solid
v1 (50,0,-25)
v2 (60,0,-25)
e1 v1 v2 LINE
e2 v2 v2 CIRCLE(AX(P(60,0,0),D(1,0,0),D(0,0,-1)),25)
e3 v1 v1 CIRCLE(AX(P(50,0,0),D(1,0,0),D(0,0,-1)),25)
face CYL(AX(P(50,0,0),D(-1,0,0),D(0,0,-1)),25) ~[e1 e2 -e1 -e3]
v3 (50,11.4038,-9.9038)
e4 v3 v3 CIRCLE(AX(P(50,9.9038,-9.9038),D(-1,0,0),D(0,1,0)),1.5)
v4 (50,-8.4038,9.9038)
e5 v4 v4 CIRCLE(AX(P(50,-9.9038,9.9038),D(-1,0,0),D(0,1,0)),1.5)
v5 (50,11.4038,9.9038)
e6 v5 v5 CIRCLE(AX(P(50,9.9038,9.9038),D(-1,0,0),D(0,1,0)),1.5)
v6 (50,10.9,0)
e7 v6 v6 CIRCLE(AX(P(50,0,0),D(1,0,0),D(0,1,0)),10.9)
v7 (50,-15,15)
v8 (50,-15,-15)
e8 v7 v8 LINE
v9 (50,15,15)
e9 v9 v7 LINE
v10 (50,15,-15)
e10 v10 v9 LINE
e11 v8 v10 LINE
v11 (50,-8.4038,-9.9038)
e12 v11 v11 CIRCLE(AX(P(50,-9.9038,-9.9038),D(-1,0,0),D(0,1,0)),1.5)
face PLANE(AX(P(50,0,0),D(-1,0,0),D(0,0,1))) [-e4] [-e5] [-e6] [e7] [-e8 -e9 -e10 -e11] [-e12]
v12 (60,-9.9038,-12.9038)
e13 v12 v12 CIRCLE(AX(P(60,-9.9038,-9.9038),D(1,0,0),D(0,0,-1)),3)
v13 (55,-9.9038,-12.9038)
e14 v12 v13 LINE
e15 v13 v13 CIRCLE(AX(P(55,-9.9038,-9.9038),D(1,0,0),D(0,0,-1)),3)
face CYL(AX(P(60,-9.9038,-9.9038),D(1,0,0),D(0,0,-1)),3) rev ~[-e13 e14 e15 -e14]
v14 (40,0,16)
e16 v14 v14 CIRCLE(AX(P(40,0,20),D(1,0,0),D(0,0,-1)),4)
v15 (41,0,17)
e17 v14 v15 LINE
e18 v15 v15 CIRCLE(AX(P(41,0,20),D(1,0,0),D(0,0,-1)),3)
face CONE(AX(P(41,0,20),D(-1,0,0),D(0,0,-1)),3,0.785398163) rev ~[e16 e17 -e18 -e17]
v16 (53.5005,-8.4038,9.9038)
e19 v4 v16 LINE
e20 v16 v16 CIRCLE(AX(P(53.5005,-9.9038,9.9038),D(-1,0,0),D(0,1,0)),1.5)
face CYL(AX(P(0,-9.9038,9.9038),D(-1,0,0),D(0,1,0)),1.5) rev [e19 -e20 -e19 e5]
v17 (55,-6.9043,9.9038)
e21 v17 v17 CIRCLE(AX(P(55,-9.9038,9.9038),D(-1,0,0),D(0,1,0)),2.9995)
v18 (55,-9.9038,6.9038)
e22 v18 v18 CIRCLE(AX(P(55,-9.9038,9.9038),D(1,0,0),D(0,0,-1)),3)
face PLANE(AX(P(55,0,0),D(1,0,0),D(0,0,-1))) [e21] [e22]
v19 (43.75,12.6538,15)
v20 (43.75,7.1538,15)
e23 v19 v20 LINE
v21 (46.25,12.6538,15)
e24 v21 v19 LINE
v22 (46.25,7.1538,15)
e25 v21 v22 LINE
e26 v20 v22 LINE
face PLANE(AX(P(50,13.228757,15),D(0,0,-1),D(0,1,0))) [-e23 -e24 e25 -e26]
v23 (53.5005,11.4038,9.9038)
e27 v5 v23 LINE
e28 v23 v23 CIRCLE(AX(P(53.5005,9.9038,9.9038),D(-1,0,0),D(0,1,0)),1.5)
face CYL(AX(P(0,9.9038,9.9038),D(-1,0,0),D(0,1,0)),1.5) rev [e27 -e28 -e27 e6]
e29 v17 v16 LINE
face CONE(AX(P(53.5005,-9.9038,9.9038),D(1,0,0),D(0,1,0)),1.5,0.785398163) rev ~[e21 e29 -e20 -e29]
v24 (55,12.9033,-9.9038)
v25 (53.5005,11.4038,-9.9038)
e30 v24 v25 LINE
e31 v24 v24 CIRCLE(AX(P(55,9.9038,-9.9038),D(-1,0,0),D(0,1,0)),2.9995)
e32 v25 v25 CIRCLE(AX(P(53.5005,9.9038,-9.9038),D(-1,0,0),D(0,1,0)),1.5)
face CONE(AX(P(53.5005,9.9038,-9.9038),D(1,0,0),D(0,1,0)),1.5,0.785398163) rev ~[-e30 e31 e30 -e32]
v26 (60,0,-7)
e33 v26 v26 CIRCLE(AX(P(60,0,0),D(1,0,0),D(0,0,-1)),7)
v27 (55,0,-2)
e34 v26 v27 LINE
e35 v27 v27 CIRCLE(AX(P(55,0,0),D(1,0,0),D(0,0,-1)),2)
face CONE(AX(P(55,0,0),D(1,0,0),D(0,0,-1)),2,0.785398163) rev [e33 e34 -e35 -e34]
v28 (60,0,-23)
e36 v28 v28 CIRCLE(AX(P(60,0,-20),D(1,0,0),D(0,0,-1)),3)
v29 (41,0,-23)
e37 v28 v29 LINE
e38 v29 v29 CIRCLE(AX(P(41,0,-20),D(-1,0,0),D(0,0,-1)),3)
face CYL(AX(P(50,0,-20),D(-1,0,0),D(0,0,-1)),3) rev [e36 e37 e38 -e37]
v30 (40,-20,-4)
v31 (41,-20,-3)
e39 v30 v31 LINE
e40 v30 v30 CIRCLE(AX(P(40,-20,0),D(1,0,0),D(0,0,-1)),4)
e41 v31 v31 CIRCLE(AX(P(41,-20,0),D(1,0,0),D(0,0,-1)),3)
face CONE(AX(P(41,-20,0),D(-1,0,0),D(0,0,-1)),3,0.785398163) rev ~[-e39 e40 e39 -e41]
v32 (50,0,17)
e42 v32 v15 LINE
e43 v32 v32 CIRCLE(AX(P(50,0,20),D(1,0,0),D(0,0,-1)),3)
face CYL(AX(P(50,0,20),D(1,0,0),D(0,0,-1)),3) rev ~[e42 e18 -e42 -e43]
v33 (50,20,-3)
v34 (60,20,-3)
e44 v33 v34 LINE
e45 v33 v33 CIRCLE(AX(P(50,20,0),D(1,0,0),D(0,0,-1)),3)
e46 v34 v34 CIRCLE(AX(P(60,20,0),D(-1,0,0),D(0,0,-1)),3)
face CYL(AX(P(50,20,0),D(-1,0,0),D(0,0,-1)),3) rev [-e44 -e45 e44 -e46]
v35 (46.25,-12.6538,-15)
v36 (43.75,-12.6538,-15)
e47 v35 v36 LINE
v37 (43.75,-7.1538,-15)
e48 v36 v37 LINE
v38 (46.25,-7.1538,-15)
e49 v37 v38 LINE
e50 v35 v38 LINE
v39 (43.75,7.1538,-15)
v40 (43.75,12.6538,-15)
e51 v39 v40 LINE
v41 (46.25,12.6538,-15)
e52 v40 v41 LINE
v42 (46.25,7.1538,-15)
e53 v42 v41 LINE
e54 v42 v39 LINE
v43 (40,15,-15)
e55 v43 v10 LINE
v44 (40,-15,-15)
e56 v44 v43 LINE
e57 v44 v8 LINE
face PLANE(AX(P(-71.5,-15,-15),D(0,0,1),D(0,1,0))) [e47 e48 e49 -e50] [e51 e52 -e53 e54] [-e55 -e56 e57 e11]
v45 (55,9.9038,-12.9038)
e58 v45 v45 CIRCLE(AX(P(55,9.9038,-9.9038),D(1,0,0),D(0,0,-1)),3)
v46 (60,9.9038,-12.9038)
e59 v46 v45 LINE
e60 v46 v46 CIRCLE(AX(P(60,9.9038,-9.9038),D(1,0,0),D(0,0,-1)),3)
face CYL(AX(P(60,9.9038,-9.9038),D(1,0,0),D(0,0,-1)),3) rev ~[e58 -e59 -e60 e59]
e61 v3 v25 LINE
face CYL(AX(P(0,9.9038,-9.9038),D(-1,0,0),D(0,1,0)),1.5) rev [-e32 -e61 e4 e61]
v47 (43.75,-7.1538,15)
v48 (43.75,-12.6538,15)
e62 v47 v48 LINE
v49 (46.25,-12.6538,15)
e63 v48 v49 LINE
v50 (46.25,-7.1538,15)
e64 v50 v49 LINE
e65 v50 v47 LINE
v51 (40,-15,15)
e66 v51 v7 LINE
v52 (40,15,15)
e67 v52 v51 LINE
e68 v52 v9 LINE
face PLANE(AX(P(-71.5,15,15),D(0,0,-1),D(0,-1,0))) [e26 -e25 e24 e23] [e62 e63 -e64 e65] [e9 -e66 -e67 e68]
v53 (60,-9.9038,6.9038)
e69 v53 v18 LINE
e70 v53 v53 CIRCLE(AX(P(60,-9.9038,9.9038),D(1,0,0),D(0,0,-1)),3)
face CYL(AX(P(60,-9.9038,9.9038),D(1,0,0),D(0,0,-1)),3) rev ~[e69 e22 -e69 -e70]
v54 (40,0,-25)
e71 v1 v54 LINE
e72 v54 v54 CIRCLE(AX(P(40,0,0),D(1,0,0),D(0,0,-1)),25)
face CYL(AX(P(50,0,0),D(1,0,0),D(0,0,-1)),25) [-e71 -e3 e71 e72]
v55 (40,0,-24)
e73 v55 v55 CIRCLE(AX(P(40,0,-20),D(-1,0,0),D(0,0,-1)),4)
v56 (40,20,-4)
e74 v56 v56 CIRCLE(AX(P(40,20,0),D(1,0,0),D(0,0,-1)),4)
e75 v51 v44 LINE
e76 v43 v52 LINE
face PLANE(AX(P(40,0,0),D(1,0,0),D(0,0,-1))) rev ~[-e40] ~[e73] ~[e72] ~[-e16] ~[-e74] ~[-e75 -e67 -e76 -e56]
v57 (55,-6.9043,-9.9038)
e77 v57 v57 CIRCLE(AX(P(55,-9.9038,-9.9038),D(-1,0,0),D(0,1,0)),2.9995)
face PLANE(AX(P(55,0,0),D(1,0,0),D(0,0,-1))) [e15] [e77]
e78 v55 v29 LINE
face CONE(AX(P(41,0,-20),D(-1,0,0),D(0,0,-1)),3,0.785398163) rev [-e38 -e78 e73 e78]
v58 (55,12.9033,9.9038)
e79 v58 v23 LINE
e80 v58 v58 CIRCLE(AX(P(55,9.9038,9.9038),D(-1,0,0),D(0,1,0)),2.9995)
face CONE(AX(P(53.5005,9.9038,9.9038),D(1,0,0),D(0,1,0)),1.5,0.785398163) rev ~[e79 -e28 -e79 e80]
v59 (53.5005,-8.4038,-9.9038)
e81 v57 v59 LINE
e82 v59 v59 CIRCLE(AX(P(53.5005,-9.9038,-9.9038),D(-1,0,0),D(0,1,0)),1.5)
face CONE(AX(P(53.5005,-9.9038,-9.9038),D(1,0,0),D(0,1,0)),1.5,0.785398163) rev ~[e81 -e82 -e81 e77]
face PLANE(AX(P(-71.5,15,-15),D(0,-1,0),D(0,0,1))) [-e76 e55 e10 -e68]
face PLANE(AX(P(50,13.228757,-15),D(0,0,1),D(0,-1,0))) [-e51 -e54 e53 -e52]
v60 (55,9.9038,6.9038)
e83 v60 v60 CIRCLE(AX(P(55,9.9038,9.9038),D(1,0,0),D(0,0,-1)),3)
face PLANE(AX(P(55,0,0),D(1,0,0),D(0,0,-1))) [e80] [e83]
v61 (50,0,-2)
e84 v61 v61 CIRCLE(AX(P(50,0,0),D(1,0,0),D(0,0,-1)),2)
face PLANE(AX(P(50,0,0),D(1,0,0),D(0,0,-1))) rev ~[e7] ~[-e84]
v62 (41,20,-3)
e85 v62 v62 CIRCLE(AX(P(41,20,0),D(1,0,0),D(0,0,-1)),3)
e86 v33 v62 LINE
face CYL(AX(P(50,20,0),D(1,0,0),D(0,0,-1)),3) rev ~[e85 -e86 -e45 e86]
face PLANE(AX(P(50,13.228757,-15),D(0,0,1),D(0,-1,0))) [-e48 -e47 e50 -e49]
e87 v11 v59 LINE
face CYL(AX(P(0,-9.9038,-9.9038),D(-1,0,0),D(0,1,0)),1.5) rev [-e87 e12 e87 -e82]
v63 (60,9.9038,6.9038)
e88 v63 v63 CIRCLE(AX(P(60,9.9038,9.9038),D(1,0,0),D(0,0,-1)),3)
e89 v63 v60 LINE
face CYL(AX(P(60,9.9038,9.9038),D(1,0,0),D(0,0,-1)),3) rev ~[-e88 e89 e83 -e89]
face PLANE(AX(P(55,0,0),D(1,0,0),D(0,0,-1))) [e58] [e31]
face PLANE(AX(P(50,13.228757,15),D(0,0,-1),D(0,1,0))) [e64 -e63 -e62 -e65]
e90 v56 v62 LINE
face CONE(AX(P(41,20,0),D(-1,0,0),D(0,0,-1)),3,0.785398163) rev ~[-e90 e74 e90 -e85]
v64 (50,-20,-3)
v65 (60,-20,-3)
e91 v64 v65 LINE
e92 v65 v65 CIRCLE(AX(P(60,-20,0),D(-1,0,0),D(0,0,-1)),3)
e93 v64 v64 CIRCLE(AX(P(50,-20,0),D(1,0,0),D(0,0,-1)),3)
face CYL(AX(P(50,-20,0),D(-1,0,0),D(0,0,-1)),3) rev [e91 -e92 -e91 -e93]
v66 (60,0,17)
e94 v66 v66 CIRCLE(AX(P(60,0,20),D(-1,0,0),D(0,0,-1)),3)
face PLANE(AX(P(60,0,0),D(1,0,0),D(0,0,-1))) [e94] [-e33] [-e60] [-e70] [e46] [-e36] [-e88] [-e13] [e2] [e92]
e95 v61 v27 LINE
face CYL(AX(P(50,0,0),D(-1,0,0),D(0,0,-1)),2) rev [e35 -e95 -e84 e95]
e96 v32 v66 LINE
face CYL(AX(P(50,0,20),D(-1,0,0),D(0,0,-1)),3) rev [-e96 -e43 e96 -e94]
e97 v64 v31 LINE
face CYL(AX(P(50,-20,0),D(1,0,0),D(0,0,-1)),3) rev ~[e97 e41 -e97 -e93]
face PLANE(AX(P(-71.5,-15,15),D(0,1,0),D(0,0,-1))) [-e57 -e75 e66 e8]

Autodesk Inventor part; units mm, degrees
ref_plane "YZ Plane" through (0, 0, 0) normal (1, 0, 0) x (0, 1, 0)
sketch "Boceto2" plane through (0, 0, 0) normal (0, 0, 1) x (1, 0, 0)
  line L0 (0, 0) -> (-71.5, 0)
  line L1 (0, 10.9) -> (0, 0)
  line L2 (-68.2708, 0) -> (0, 0)
  line L3 (0, 10.9) -> (-68.1013, 9.2541)
  line L4 (-71.5, 0) -> (-56.9274, 0) construction
  line L5 (-71.5, 0) -> (-71.5, 8.5)
  line L6 (-71.5, 0) -> (-68, 0)
  arc A0 (-68, 9.2565) -> (-71.5, 8.5) centre (-67.8264, -0.0207) ccw
  line L7 (-68, 9.2565) -> (0, 10.9)
  line L8 (0, 0) -> (26.5, 0)
  line L9 (26.5, 0) -> (26.5, 7)
  line L10 (0, 0) -> (0, 9.9)
  line L11 (0, 0) -> (21, 0)
  line L12 (21, 0) -> (21, 9.5)
  line L13 (21, 9.5) -> (0, 9.9)
  line L14 (26.5, 0) -> (26.5, 8.5)
  arc A1 (26.5, 8.5) -> (21, 9.5) centre (21.692, -2.3188) ccw
  line L15 (26.5, 0) -> (29, 0)
  line L16 (29, 0) -> (29, 7)
  line L17 (29, 7) -> (26.5, 7)
  line L18 (29, 0) -> (29, 6.75)
  line L19 (29, 6.75) -> (31, 6.75)
  line L20 (31.8816, 0) -> (29, 0)
  line L21 (29, 0) -> (29, 6.75)
  line L22 (29, 6.75) -> (31, 6.75)
  line L23 (29, 0) -> (31, 0)
  ellipse E0 centre (31, 0) end of major axis (31, 6.75) minor radius 0.8816 (31.8816, 0) -> (31, 6.75) ccw
  line L24 (-71.5, 0) -> (-71.5, 7.25)
  line L25 (-71.5, 0) -> (-67, 0)
  line L26 (-71.5, 0) -> (-76, 0)
  line L27 (-76, 0) -> (-76, 6.75)
  line L28 (-76, 6.75) -> (-71.5, 7.25)
  line L29 (-76, 0) -> (-77, 0)
  line L30 (-77, 0) -> (-77, 6.5)
  line L31 (-77, 6.5) -> (-76, 6.75)
  line L32 (-77, 0) -> (-80.5, 0)
  line L33 (-80.5, 0) -> (-80.5, 4.15)
  line L34 (-80.5, 4.15) -> (-77, 6.5)
  line L35 (-80.5, 0) -> (-87.5, 0)
  line L36 (-87.5, 0) -> (-87.5, 4.15)
  line L37 (-87.5, 4.15) -> (-80.5, 4.15)
  line L38 (-80.5, 4.15) -> (-80.5, 0)
  line L39 (-87.5, 0) -> (-95, 0)
  line L40 (-95, 0) -> (-95, 0)
  line L41 (-92.25, 2.75) -> (-87.5, 2.75)
  line L42 (-87.5, 2.75) -> (-87.5, 0)
  arc A2 (-92.25, 2.75) -> (-95, 0) centre (-92.25, 0) ccw
  line L43 (-71.5, 8.5) -> (-71.5, 12.7399)
  arc A3 (-68.0867, 13.2556) -> (-71.5, 12.7399) centre (-67.8264, -0.0207) ccw
  line L44 (-68.0867, 13.2556) -> (-0.0966, 14.8988)
  line L45 (34.8792, 10.8985) -> (49.8792, 10.8985)
  line L46 (-71.5, 0) -> (-61.5, 0)
  line L47 (-61.5, 0) -> (-61.5, 13.4148)
  line L48 (-61.5, 14.4151) -> (-61.5, 20)
  line L49 (-61.5, 13.4148) -> (-61.5, 14.4151)
  line L50 (-61.5, 13.4148) -> (-58, 13.4148) construction
  circle A4 centre (-61.5, 13.4148) radius 1.5
  line L51 (-61.5, 13.4148) -> (-58.5, 13.4148)
  line L52 (-58.5, 13.4148) -> (-60, 10.8167)
  line L53 (-60, 10.8167) -> (-63, 10.8167)
  line L54 (-63, 10.8167) -> (-64.5, 13.4148)
  line L55 (-64.5, 13.4148) -> (-63, 16.0129)
  line L56 (-63, 16.0129) -> (-60, 16.0129)
  line L57 (-60, 16.0129) -> (-58.5, 13.4148)
  line L58 (-64.7321, 19.0129) -> (-67.9641, 13.4148)
  line L59 (-67.9641, 13.4148) -> (-64.7321, 7.8167)
  line L60 (-64.7321, 7.8167) -> (-58.2679, 7.8167)
  line L61 (-58.2679, 7.8167) -> (-55.0359, 13.4148)
  line L62 (-55.0359, 13.4148) -> (-58.2679, 19.0129)
  line L63 (-58.2679, 19.0129) -> (-64.7321, 19.0129)
  line L64 (-67.9641, 13.4148) -> (-55.0359, 13.4148)
  line L65 (49.8792, 0) -> (39.8792, 0)
  line L66 (-71.5, 0) -> (-10.8105, 0)
  line L67 (-10.8105, 0) -> (-10.8105, 14.6399)
  line L68 (-10.8105, 14.6399) -> (-10.8105, 27)
  circle A5 centre (-10.8105, 14.6399) radius 1.5
  line L69 (-10.8105, 14.6399) -> (-7.8105, 14.6399)
  line L70 (-10.8105, 14.6399) -> (-7.8105, 14.6399) construction
  line L71 (-7.8105, 14.6399) -> (-9.3105, 12.0418)
  line L72 (-9.3105, 12.0418) -> (-12.3105, 12.0418)
  line L73 (-12.3105, 12.0418) -> (-13.8105, 14.6399)
  line L74 (-13.8105, 14.6399) -> (-12.3105, 17.238)
  line L75 (-12.3105, 17.238) -> (-9.3105, 17.238)
  line L76 (-9.3105, 17.238) -> (-7.8105, 14.6399)
  line L77 (-14.0426, 20.238) -> (-17.2746, 14.6399)
  line L78 (-17.2746, 14.6399) -> (-14.0426, 9.0418)
  line L79 (-14.0426, 9.0418) -> (-7.5784, 9.0418)
  line L80 (-7.5784, 9.0418) -> (-4.3464, 14.6399)
  line L81 (-4.3464, 14.6399) -> (-7.5784, 20.238)
  line L82 (-7.5784, 20.238) -> (-14.0426, 20.238)
  line L83 (0, 10.9) -> (50, 10.9)
  line L84 (50, 10.9) -> (50, 14.9)
  line L85 (50, 14.9) -> (0, 14.9)
  line L86 (0, 14.9) -> (0, 10.9)
  line L87 (-0.0966, 14.8988) -> (0, 14.8988)
  line L88 (0, 0) -> (50, 0)
  line L89 (50, 0) -> (50, 10.9)
  line L90 (50, 10.9) -> (0, 10.9)
  line L91 (0, 10.9) -> (0, 0)
  point P0 (67.7333, -10.8479)
  point P1 (103.6012, -10.8479)
  point P2 (35.8517, 0)
  point P3 (7, 16)
  point P4 (-95, 2.75)
  dimension "d21" = 71.5
  dimension "d22" = 8.5
  dimension "d23" = 3.5
  dimension "d24" = 26.5
  dimension "d25" = 7
  dimension "d26" = 9.9
  dimension "d27" = 21
  dimension "d28" = 9.5
  dimension "d29" = 8.5
  dimension "d30" = 2.5
  dimension "d31" = 6.75
  dimension "d32" = 2
  dimension "d33" = 2
  dimension "d34" = 7.25
  dimension "d35" = 4.5
  dimension "d36" = 4.5
  dimension "d37" = 6.75
  dimension "d38" = 1
  dimension "d39" = 6.5
  dimension "d40" = 3.5
  dimension "d41" = 4.15
  dimension "d42" = 7
  dimension "d43" = 7.5
  dimension "d44" = 2.75
  dimension "d45" = 2.75
  dimension "d51" = 4
  dimension "d52" = 10
  dimension "d53" = 20
  dimension "d54" = 90
  dimension "d55" = 3
  dimension "d56" = 3
  dimension "d57" = 3
  dimension "d58" = 10
  dimension "d63" = 60.6895
  dimension "d64" = 3
  dimension "d65" = 3
  dimension "d66" = 0
  dimension "d67" = 3
  dimension "d89" = 50
  dimension "d90" = 4
  dimension "d91" = 121.5
  dimension "d92" = 50
sketch "Boceto4" plane through (0, 0, 0) normal (1, 0, 0) x (0, 1, 0)
  line L0 (0, 0) -> (0, 20)
  circle A0 centre (20, 0) radius 3
  circle A1 centre (0, 20) radius 3
  circle A2 centre (-20, 0) radius 3
  circle A3 centre (0, 0) radius 12.5
  circle A4 centre (0, 0) radius 20
  circle A5 centre (0, 0) radius 20
  circle A6 centre (0, 0) radius 20
  circle A7 centre (0, 0) radius 25
  circle A8 centre (0, 0) radius 20
  circle A9 centre (0, -20) radius 3
  line L1 (0, -20) -> (3.5355, -16.4645) construction
  circle A10 centre (9.9038, -9.9038) radius 1.5
  line L2 (0, 0) -> (6.2936, 0)
  line L3 (15, 15) -> (-15, 15)
  line L4 (-15, 15) -> (-15, -15)
  line L5 (-15, -15) -> (15, -15)
  line L6 (15, -15) -> (15, 15)
  line L7 (15, 15) -> (-15, -15) construction
  line L8 (8.3161, -12.6538) -> (6.7284, -9.9038)
  line L9 (6.7284, -9.9038) -> (8.3161, -7.1538)
  line L10 (8.3161, -7.1538) -> (11.4915, -7.1538)
  line L11 (11.4915, -7.1538) -> (13.0792, -9.9038)
  line L12 (13.0792, -9.9038) -> (11.4915, -12.6538)
  line L13 (11.4915, -12.6538) -> (8.3161, -12.6538)
  circle A11 centre (9.9038, 9.9038) radius 1.5
  line L14 (8.3161, 12.6538) -> (6.7284, 9.9038)
  line L15 (6.7284, 9.9038) -> (8.3161, 7.1538)
  line L16 (8.3161, 7.1538) -> (11.4915, 7.1538)
  line L17 (11.4915, 7.1538) -> (13.0792, 9.9038)
  line L18 (13.0792, 9.9038) -> (11.4915, 12.6538)
  line L19 (11.4915, 12.6538) -> (8.3161, 12.6538)
  circle A12 centre (-9.9038, -9.9038) radius 1.5
  line L20 (-8.3161, -12.6538) -> (-6.7284, -9.9038)
  line L21 (-6.7284, -9.9038) -> (-8.3161, -7.1538)
  line L22 (-8.3161, -7.1538) -> (-11.4915, -7.1538)
  line L23 (-11.4915, -7.1538) -> (-13.0792, -9.9038)
  line L24 (-13.0792, -9.9038) -> (-11.4915, -12.6538)
  line L25 (-11.4915, -12.6538) -> (-8.3161, -12.6538)
  line L26 (-13.0792, 9.9038) -> (-11.4915, 12.6538)
  line L27 (-8.3161, 7.1538) -> (-11.4915, 7.1538)
  line L28 (-6.7284, 9.9038) -> (-8.3161, 7.1538)
  line L29 (-11.4915, 7.1538) -> (-13.0792, 9.9038)
  circle A13 centre (-9.9038, 9.9038) radius 1.5
  line L30 (-8.3161, 12.6538) -> (-6.7284, 9.9038)
  line L31 (-11.4915, 12.6538) -> (-8.3161, 12.6538)
  circle A14 centre (9.9038, 9.9038) radius 3
  circle A15 centre (9.9038, -9.9038) radius 3
  circle A16 centre (-9.9038, 9.9038) radius 3
  circle A17 centre (-9.9038, -9.9038) radius 3
  point P0 (20, 0)
  point P1 (-6.2936, 0)
  dimension "d105" = 40
  dimension "d104" = 50
  dimension "d107" = 6
  dimension "d108" = 360
  dimension "d110" = 25
  dimension "d126" = 3
  dimension "d132" = 30
  dimension "d133" = 30
  dimension "d270" = 6
  dimension "d271" = 6
  dimension "d272" = 6
  dimension "d273" = 6
sketch "Boceto3" plane through (0, 0, 0) normal (1, 0, 0) x (0, 1, 0)
  line L0 (0, 0) -> (20, 0) construction
  line L1 (0, 0) -> (14.1421, 14.1421)
  circle A0 centre (0, 20) radius 3
  circle A1 centre (14.1421, -14.1421) radius 3
  circle A2 centre (14.1421, 14.1421) radius 3
  circle A3 centre (-14.1421, 14.1421) radius 3
  circle A4 centre (0, 0) radius 12.5
  circle A5 centre (0, 0) radius 20
  circle A6 centre (0, 0) radius 20
  circle A7 centre (0, 0) radius 20
  circle A8 centre (0, 0) radius 25
  circle A9 centre (0, 0) radius 20
  circle A10 centre (-14.1421, -14.1421) radius 3
  line L2 (20, 0) -> (20, 4)
  line L3 (20, 4) -> (23.4641, 2)
  line L4 (23.4641, 2) -> (23.4641, -2)
  line L5 (23.4641, -2) -> (20, -4)
  line L6 (20, -4) -> (16.5359, -2)
  line L7 (16.5359, -2) -> (16.5359, 2)
  line L8 (16.5359, 2) -> (20, 4)
  line L9 (-4, 20) -> (-2, 23.4641)
  line L10 (-2, 23.4641) -> (2, 23.4641)
  line L11 (2, 23.4641) -> (4, 20)
  line L12 (4, 20) -> (2, 16.5359)
  line L13 (-2, 16.5359) -> (-4, 20)
  line L14 (2, 16.5359) -> (-2, 16.5359)
  line L15 (-20, -4) -> (-23.4641, -2)
  line L16 (-23.4641, -2) -> (-23.4641, 2)
  line L17 (-23.4641, 2) -> (-20, 4)
  line L18 (-20, 4) -> (-16.5359, 2)
  line L19 (-16.5359, -2) -> (-20, -4)
  line L20 (-16.5359, 2) -> (-16.5359, -2)
  line L21 (4, -20) -> (2, -23.4641)
  line L22 (2, -23.4641) -> (-2, -23.4641)
  line L23 (-2, -23.4641) -> (-4, -20)
  line L24 (-4, -20) -> (-2, -16.5359)
  line L25 (2, -16.5359) -> (4, -20)
  line L26 (-2, -16.5359) -> (2, -16.5359)
  circle A11 centre (20, 0) radius 2
  circle A12 centre (0, 20) radius 2
  circle A13 centre (-20, 0) radius 2
  circle A14 centre (0, -20) radius 2
  line L27 (-14.1421, -14.1421) -> (-17.6777, -17.6777)
  line L28 (-14.1421, -14.1421) -> (-9.1421, -14.1421) construction
  line L29 (-17.6777, -17.6777) -> (17.6777, -17.6777)
  line L30 (17.6777, -17.6777) -> (17.6777, 17.6777)
  line L31 (17.6777, -17.6777) -> (59.3553, -17.6777) construction
  line L32 (17.6777, 17.6777) -> (-17.6777, 17.6777)
  line L33 (17.6777, 17.6777) -> (68.3553, 17.6777) construction
  line L34 (-17.6777, 17.6777) -> (-17.6777, -17.6777)
  dimension "d75" = 40
  dimension "d74" = 50
  dimension "d76" = 45
  dimension "d77" = 6
  dimension "d78" = 360
  dimension "d79" = 6
  dimension "d80" = 25
  dimension "d81" = 4
  dimension "d82" = 360
  dimension "d83" = 4
  dimension "d84" = 360
  dimension "d85" = 135
  dimension "d86" = 45
  dimension "d87" = 90
  dimension "d88" = 180
extrude "Extrusión2" add sketch "Boceto4" along normal blind 50 and the other way blind 71.5 contours L3 A4 L6 L5 L4 | A3 A14 L14 L15 L16 A15 L10 L9 L8 A17 L20 L21 L22 A16 L27 L28 L30 | A14 L14 A3 | A3 L14 A14 | A16 L30 A3 | A3 L30 A16 | L3 L6 A4 | A4 L4 L3 | L14 A14 L19 L18 L17 L16 A3 | A3 L16 A14 L15 L14 | L14 L19 A14 | A14 L15 L14 | L30 A16 L28 L27 A3 | A3 L27 A16 L29 L26 L31 L30 | L30 L28 A16 | A16 L31 L30 | L16 A14 A3 | A3 A14 L16 | A14 L19 | L15 A14 | L27 A16 A3 | A3 A16 L27 | L31 A16 | L6 L5 A4 | A4 L5 L4 | L16 L15 A14 | A14 L17 L16 | L19 L18 A14 | A16 L28 L27 | L27 L29 A16 | A16 L28 | A16 L26 L31 | L17 A14 | A14 L18 | A17 L22 A3 | A3 L22 A17 | A16 L29 | L26 A16 | A15 L10 A3 | A3 L10 A15 | A14 L18 L17 | L22 A17 L21 L20 A3 | A3 L20 A17 L25 L24 L23 L22 | L22 L21 A17 | A17 L23 L22 | L29 L26 A16 | L10 A15 L11 L12 L13 L8 A3 | A3 L8 A15 L9 L10 | L10 L11 A15 | A15 L9 L10 | L20 A17 A3 | A3 A17 L20 | A17 L21 | L23 A17 | L8 A15 A3 | A3 A15 L8 | A15 L11 | L9 A15 | L20 L25 A17 | A17 L21 L20 | A17 L24 L23 | A15 L13 L8 | L8 L9 A15 | L11 L12 A15 | A17 L25 | L24 A17 | L13 A15 | L25 L24 A17 | A15 L12 L13 | A15 L12 | A10 | A11 | A12 | A13
revolve "Revolución2" cut sketch "Boceto2" angle 360 about axis through (-71.5, 0, 0) along (1, 0, 0) contours L0 L67 L79 L80 L3 L1 | L1 L13 L12 L8 | L0 L47 L60 L61 L3 L78 L79 L67 | L1 L83 L45 L89 L88 L65 E0 L19 L16 L17 L14 A1 L13 | L12 A1 L14 L9 L8 | L0 L5 A0 L3 L59 L60 L47 | L79 L78 L3 L67 | L67 L3 L80 L79 | L9 L17 L16 L15 | L60 L59 L3 L47 | L47 L3 L61 L60 | L16 L19 E0 L20
sketch "Boceto5" plane through (50, 0, 0) normal (1, 0, 0) x (0, 0, -1)
  line L0 (0, 0) -> (0, 20)
  circle A0 centre (20, 0) radius 3
  circle A1 centre (0, 20) radius 3
  circle A2 centre (-20, 0) radius 3
  circle A3 centre (0, 0) radius 20
  circle A4 centre (0, 0) radius 20
  circle A5 centre (0, 0) radius 20
  circle A6 centre (0, 0) radius 20
  circle A7 centre (0, -20) radius 3
  line L1 (0, -20) -> (3.5355, -16.4645) construction
  circle A8 centre (9.9038, -9.9038) radius 1.5
  line L2 (0, 0) -> (6.2936, 0)
  line L3 (15, 15) -> (-15, 15)
  line L4 (-15, 15) -> (-15, -15)
  line L5 (-15, -15) -> (15, -15)
  line L6 (15, -15) -> (15, 15)
  line L7 (15, 15) -> (-15, -15) construction
  line L8 (8.3161, -12.6538) -> (6.7284, -9.9038)
  line L9 (6.7284, -9.9038) -> (8.3161, -7.1538)
  line L10 (8.3161, -7.1538) -> (11.4915, -7.1538)
  line L11 (11.4915, -7.1538) -> (13.0792, -9.9038)
  line L12 (13.0792, -9.9038) -> (11.4915, -12.6538)
  line L13 (11.4915, -12.6538) -> (8.3161, -12.6538)
  line L14 (13.0792, 9.9038) -> (11.4915, 12.6538)
  line L15 (8.3161, 7.1538) -> (11.4915, 7.1538)
  line L16 (6.7284, 9.9038) -> (8.3161, 7.1538)
  line L17 (11.4915, 7.1538) -> (13.0792, 9.9038)
  circle A9 centre (9.9038, 9.9038) radius 1.5
  line L18 (8.3161, 12.6538) -> (6.7284, 9.9038)
  line L19 (11.4915, 12.6538) -> (8.3161, 12.6538)
  line L20 (-8.3161, -7.1538) -> (-11.4915, -7.1538)
  line L21 (-13.0792, -9.9038) -> (-11.4915, -12.6538)
  line L22 (-8.3161, -12.6538) -> (-6.7284, -9.9038)
  circle A10 centre (-9.9038, -9.9038) radius 1.5
  line L23 (-6.7284, -9.9038) -> (-8.3161, -7.1538)
  line L24 (-6.7284, 9.9038) -> (-8.3161, 7.1538)
  line L25 (-8.3161, 7.1538) -> (-11.4915, 7.1538)
  line L26 (-11.4915, 7.1538) -> (-13.0792, 9.9038)
  line L27 (-13.0792, 9.9038) -> (-11.4915, 12.6538)
  line L28 (-8.3161, 12.6538) -> (-6.7284, 9.9038)
  line L29 (-11.4915, 12.6538) -> (-8.3161, 12.6538)
  line L30 (-11.4915, -7.1538) -> (-13.0792, -9.9038)
  circle A11 centre (-9.9038, 9.9038) radius 1.5
  line L31 (-11.4915, -12.6538) -> (-8.3161, -12.6538)
  circle A12 centre (0, 0) radius 25
  point P0 (20, 0)
  point P1 (-6.2936, 0)
  dimension "d144" = 40
  dimension "d145" = 6
  dimension "d146" = 360
  dimension "d148" = 3
  dimension "d149" = 30
  dimension "d150" = 30
  dimension "d182" = 50
extrude "Extrusión3" cut sketch "Boceto5" against normal blind 20 contours A8 | A9 | A10 | A11
ref_plane "Plano de trabajo1" through (45, 0, 0) normal (1, 0, 0) x (0, 0, -1)
sketch "Boceto8" plane through (45, 0, 0) normal (1, 0, 0) x (0, 0, -1)
  line L0 (0, 0) -> (0, 20)
  circle A0 centre (20, 0) radius 3
  circle A1 centre (0, 20) radius 3
  circle A2 centre (-20, 0) radius 3
  circle A3 centre (0, 0) radius 20
  circle A4 centre (0, 0) radius 20
  circle A5 centre (0, 0) radius 20
  circle A6 centre (0, 0) radius 20
  circle A7 centre (0, -20) radius 3
  line L1 (0, -20) -> (3.5355, -16.4645) construction
  circle A8 centre (9.9038, -9.9038) radius 1.5
  line L2 (0, 0) -> (6.2936, 0)
  line L3 (15, 15) -> (-15, 15)
  line L4 (-15, 15) -> (-15, -15)
  line L5 (-15, -15) -> (15, -15)
  line L6 (15, -15) -> (15, 15)
  line L7 (8.3161, -12.6538) -> (6.7284, -9.9038)
  line L8 (6.7284, -9.9038) -> (8.3161, -7.1538)
  line L9 (8.3161, -7.1538) -> (11.4915, -7.1538)
  line L10 (11.4915, -7.1538) -> (13.0792, -9.9038)
  line L11 (13.0792, -9.9038) -> (11.4915, -12.6538)
  line L12 (11.4915, -12.6538) -> (8.3161, -12.6538)
  line L13 (13.0792, 9.9038) -> (11.4915, 12.6538)
  line L14 (8.3161, 7.1538) -> (11.4915, 7.1538)
  line L15 (6.7284, 9.9038) -> (8.3161, 7.1538)
  line L16 (11.4915, 7.1538) -> (13.0792, 9.9038)
  circle A9 centre (9.9038, 9.9038) radius 1.5
  line L17 (8.3161, 12.6538) -> (6.7284, 9.9038)
  line L18 (11.4915, 12.6538) -> (8.3161, 12.6538)
  line L19 (-8.3161, -7.1538) -> (-11.4915, -7.1538)
  line L20 (-13.0792, -9.9038) -> (-11.4915, -12.6538)
  line L21 (-8.3161, -12.6538) -> (-6.7284, -9.9038)
  circle A10 centre (-9.9038, -9.9038) radius 1.5
  line L22 (-6.7284, -9.9038) -> (-8.3161, -7.1538)
  line L23 (-6.7284, 9.9038) -> (-8.3161, 7.1538)
  line L24 (-8.3161, 7.1538) -> (-11.4915, 7.1538)
  line L25 (-11.4915, 7.1538) -> (-13.0792, 9.9038)
  line L26 (-13.0792, 9.9038) -> (-11.4915, 12.6538)
  line L27 (-8.3161, 12.6538) -> (-6.7284, 9.9038)
  line L28 (-11.4915, 12.6538) -> (-8.3161, 12.6538)
  line L29 (-11.4915, -7.1538) -> (-13.0792, -9.9038)
  circle A11 centre (-9.9038, 9.9038) radius 1.5
  line L30 (-11.4915, -12.6538) -> (-8.3161, -12.6538)
  line L31 (15, -15) -> (15, 15)
  line L32 (11.4915, -12.6538) -> (15, -12.6538)
  line L33 (15, -12.6538) -> (15, -7.1538)
  line L34 (15, -7.1538) -> (11.4915, -7.1538)
  line L35 (11.4915, -7.1538) -> (11.4915, -12.6538)
  line L36 (11.4915, 7.1538) -> (15, 7.1538)
  line L37 (15, 7.1538) -> (15, 12.6538)
  line L38 (15, 12.6538) -> (11.4915, 12.6538)
  line L39 (11.4915, 12.6538) -> (11.4915, 7.1538)
  line L40 (-11.4915, 12.6538) -> (-17.8424, 12.6538)
  line L41 (-17.8424, 12.6538) -> (-17.8424, 7.1538)
  line L42 (-17.8424, 7.1538) -> (-11.4915, 7.1538)
  line L43 (-11.4915, 7.1538) -> (-11.4915, 12.6538)
  line L44 (-11.4915, -7.1538) -> (-17.8424, -7.1538)
  line L45 (-17.8424, -7.1538) -> (-17.8424, -12.6538)
  line L46 (-17.8424, -12.6538) -> (-11.4915, -12.6538)
  line L47 (-11.4915, -12.6538) -> (-11.4915, -7.1538)
  point P0 (20, 0)
  point P1 (-6.2936, 0)
  dimension "d172" = 40
  dimension "d173" = 6
  dimension "d174" = 360
  dimension "d175" = 3
  dimension "d176" = 30
  dimension "d177" = 30
  dimension "d178" = 5.5
  dimension "d179" = 5.5
extrude "Extrusión4" cut sketch "Boceto8" along normal mid plane 2.5 contours L6 L36 L16 L13 L38 | L40 L4 L42 L41 A3 | A3 L41 L40 | L40 L26 L25 L42 L4 | L39 L14 L15 L17 L18 | L13 L16 L39 | L43 L25 L26 | L28 L27 L23 L24 L43 | L6 L32 L11 L10 L34 | L44 L29 L20 L46 L4 | L4 L46 A3 L45 L44 | L35 L12 L7 L8 L9 | L10 L11 L35 | L47 L20 L29 | L19 L22 L21 L30 L47 | A3 L46 L45 | A8 | A9 | A10 | A11
sketch "Boceto9" plane through (50, 0, 0) normal (1, 0, 0) x (0, 0, -1)
  circle A0 centre (20, 0) radius 3
  circle A1 centre (0, 20) radius 3
  circle A2 centre (-20, 0) radius 3
  circle A3 centre (0, 0) radius 12.5
  circle A4 centre (0, 0) radius 20
  circle A5 centre (0, 0) radius 20
  circle A6 centre (0, 0) radius 20
  circle A7 centre (0, 0) radius 25
  circle A8 centre (0, 0) radius 20
  circle A9 centre (0, -20) radius 3
  line L0 (0, -20) -> (3.5355, -16.4645) construction
  line L1 (0, 0) -> (6.2936, 0)
  circle A10 centre (0, 0) radius 2
  circle A11 centre (0, 0) radius 4
  line L2 (-15, 15) -> (15, 15)
  line L3 (15, 15) -> (15, -15)
  line L4 (15, -15) -> (-15, -15)
  line L5 (-15, -15) -> (-15, 15)
  line L6 (-15, 15) -> (15, -15) construction
  line L7 (15, 15) -> (-15, -15) construction
  point P0 (20, 0)
  point P1 (-6.2936, 0)
  point P2 (-15, -13.2288)
  point P3 (-19.775, -2.9916)
  point P4 (-19.775, 2.9916)
  point P5 (-15, 13.2288)
  point P6 (-13.2288, 15)
  point P7 (-2.9916, 19.775)
  point P8 (2.9916, 19.775)
  point P9 (13.2288, 15)
  dimension "d187" = 40
  dimension "d186" = 50
  dimension "d188" = 6
  dimension "d189" = 360
  dimension "d190" = 25
  dimension "d194" = 4
  dimension "d195" = 8
  dimension "d244" = 30
  dimension "d245" = 30
extrude "Extrusión5" add sketch "Boceto9" along normal blind 10 contours A0 A4 L3 | L3 A4 L4 L5 L2 | A4 L2 L3 | L3 L4 A4 | L2 A4 A1 | A4 A9 L4 | A4 L5 L2 | L4 L5 A4 | L5 A4 A2 | A3 | A7 | A11
ref_plane "Plano de trabajo2" through (0, 0, 15) normal (0, 0, 1) x (1, 0, 0)
extrude "Extrusión10" add sketch "Boceto9" against normal blind 10 contours A0 A4 L3 | L2 A4 A1 | A4 A9 L4 | L5 A4 A2 | A7
chamfer "Chaflán1" distance 1 angle 45 4 edges at (40, 0, -17) (40, 20.225, 2.9916) (40, -2.9916, 20.225) (40, -20, 3)
chamfer "Chaflán2" distance 5 angle 45 1 edges at (60, 0, 2)
sketch "Boceto12" plane through (-71.5, 0, 0) normal (-1, 0, 0) x (0, 0, 1)
  line L0 (15, -15) -> (-15, -15)
  line L1 (-15, -15) -> (-15, 15)
  line L2 (-15, 15) -> (15, 15)
  line L3 (15, 15) -> (15, -15)
  line L4 (15, -15) -> (-15, 15) construction
  line L5 (-15, -15) -> (15, 15) construction
  point P0 (0, 0)
  dimension "d261" = 30
  dimension "d262" = 30
extrude "Extrusión12" cut sketch "Boceto12" against normal blind 121.5
extrude "Extrusión13" cut sketch "Boceto4" along normal blind 100 contours A10 | A11 | A12 | A13
sketch "Boceto13" plane through (60, 0, 0) normal (1, 0, 0) x (0, 0, -1)
  circle A0 centre (-9.9038, -9.9038) radius 2.5
  circle A1 centre (-9.9038, 9.9038) radius 2.5
  circle A2 centre (-20, 0) radius 3
  circle A3 centre (0, 20) radius 3
  circle A4 centre (20, 0) radius 3
  circle A5 centre (0, -20) radius 3
  circle A6 centre (0, 0) radius 25
  circle A7 centre (0, 0) radius 7
  circle A8 centre (9.9038, 9.9038) radius 2.5
  circle A9 centre (9.9038, -9.9038) radius 2.5
  circle A10 centre (-9.9038, 9.9038) radius 3
  circle A11 centre (-9.9038, -9.9038) radius 3
  circle A12 centre (9.9038, -9.9038) radius 3
  circle A13 centre (9.9038, 9.9038) radius 3
  dimension "d274" = 6
  dimension "d277" = 360
extrude "Extrusión14" cut sketch "Boceto13" against normal blind 5 contours A0 | A1 | A8 | A9 | A10 | A11 | A12 | A13
chamfer "Chaflán4" distance 1.5 angle 45 4 edges at (55, 8.4038, 9.9038) (55, 8.4038, -9.9038) (55, -11.4038, 9.9038) (55, -11.4038, -9.9038)
properties part number "_3DPrint"
